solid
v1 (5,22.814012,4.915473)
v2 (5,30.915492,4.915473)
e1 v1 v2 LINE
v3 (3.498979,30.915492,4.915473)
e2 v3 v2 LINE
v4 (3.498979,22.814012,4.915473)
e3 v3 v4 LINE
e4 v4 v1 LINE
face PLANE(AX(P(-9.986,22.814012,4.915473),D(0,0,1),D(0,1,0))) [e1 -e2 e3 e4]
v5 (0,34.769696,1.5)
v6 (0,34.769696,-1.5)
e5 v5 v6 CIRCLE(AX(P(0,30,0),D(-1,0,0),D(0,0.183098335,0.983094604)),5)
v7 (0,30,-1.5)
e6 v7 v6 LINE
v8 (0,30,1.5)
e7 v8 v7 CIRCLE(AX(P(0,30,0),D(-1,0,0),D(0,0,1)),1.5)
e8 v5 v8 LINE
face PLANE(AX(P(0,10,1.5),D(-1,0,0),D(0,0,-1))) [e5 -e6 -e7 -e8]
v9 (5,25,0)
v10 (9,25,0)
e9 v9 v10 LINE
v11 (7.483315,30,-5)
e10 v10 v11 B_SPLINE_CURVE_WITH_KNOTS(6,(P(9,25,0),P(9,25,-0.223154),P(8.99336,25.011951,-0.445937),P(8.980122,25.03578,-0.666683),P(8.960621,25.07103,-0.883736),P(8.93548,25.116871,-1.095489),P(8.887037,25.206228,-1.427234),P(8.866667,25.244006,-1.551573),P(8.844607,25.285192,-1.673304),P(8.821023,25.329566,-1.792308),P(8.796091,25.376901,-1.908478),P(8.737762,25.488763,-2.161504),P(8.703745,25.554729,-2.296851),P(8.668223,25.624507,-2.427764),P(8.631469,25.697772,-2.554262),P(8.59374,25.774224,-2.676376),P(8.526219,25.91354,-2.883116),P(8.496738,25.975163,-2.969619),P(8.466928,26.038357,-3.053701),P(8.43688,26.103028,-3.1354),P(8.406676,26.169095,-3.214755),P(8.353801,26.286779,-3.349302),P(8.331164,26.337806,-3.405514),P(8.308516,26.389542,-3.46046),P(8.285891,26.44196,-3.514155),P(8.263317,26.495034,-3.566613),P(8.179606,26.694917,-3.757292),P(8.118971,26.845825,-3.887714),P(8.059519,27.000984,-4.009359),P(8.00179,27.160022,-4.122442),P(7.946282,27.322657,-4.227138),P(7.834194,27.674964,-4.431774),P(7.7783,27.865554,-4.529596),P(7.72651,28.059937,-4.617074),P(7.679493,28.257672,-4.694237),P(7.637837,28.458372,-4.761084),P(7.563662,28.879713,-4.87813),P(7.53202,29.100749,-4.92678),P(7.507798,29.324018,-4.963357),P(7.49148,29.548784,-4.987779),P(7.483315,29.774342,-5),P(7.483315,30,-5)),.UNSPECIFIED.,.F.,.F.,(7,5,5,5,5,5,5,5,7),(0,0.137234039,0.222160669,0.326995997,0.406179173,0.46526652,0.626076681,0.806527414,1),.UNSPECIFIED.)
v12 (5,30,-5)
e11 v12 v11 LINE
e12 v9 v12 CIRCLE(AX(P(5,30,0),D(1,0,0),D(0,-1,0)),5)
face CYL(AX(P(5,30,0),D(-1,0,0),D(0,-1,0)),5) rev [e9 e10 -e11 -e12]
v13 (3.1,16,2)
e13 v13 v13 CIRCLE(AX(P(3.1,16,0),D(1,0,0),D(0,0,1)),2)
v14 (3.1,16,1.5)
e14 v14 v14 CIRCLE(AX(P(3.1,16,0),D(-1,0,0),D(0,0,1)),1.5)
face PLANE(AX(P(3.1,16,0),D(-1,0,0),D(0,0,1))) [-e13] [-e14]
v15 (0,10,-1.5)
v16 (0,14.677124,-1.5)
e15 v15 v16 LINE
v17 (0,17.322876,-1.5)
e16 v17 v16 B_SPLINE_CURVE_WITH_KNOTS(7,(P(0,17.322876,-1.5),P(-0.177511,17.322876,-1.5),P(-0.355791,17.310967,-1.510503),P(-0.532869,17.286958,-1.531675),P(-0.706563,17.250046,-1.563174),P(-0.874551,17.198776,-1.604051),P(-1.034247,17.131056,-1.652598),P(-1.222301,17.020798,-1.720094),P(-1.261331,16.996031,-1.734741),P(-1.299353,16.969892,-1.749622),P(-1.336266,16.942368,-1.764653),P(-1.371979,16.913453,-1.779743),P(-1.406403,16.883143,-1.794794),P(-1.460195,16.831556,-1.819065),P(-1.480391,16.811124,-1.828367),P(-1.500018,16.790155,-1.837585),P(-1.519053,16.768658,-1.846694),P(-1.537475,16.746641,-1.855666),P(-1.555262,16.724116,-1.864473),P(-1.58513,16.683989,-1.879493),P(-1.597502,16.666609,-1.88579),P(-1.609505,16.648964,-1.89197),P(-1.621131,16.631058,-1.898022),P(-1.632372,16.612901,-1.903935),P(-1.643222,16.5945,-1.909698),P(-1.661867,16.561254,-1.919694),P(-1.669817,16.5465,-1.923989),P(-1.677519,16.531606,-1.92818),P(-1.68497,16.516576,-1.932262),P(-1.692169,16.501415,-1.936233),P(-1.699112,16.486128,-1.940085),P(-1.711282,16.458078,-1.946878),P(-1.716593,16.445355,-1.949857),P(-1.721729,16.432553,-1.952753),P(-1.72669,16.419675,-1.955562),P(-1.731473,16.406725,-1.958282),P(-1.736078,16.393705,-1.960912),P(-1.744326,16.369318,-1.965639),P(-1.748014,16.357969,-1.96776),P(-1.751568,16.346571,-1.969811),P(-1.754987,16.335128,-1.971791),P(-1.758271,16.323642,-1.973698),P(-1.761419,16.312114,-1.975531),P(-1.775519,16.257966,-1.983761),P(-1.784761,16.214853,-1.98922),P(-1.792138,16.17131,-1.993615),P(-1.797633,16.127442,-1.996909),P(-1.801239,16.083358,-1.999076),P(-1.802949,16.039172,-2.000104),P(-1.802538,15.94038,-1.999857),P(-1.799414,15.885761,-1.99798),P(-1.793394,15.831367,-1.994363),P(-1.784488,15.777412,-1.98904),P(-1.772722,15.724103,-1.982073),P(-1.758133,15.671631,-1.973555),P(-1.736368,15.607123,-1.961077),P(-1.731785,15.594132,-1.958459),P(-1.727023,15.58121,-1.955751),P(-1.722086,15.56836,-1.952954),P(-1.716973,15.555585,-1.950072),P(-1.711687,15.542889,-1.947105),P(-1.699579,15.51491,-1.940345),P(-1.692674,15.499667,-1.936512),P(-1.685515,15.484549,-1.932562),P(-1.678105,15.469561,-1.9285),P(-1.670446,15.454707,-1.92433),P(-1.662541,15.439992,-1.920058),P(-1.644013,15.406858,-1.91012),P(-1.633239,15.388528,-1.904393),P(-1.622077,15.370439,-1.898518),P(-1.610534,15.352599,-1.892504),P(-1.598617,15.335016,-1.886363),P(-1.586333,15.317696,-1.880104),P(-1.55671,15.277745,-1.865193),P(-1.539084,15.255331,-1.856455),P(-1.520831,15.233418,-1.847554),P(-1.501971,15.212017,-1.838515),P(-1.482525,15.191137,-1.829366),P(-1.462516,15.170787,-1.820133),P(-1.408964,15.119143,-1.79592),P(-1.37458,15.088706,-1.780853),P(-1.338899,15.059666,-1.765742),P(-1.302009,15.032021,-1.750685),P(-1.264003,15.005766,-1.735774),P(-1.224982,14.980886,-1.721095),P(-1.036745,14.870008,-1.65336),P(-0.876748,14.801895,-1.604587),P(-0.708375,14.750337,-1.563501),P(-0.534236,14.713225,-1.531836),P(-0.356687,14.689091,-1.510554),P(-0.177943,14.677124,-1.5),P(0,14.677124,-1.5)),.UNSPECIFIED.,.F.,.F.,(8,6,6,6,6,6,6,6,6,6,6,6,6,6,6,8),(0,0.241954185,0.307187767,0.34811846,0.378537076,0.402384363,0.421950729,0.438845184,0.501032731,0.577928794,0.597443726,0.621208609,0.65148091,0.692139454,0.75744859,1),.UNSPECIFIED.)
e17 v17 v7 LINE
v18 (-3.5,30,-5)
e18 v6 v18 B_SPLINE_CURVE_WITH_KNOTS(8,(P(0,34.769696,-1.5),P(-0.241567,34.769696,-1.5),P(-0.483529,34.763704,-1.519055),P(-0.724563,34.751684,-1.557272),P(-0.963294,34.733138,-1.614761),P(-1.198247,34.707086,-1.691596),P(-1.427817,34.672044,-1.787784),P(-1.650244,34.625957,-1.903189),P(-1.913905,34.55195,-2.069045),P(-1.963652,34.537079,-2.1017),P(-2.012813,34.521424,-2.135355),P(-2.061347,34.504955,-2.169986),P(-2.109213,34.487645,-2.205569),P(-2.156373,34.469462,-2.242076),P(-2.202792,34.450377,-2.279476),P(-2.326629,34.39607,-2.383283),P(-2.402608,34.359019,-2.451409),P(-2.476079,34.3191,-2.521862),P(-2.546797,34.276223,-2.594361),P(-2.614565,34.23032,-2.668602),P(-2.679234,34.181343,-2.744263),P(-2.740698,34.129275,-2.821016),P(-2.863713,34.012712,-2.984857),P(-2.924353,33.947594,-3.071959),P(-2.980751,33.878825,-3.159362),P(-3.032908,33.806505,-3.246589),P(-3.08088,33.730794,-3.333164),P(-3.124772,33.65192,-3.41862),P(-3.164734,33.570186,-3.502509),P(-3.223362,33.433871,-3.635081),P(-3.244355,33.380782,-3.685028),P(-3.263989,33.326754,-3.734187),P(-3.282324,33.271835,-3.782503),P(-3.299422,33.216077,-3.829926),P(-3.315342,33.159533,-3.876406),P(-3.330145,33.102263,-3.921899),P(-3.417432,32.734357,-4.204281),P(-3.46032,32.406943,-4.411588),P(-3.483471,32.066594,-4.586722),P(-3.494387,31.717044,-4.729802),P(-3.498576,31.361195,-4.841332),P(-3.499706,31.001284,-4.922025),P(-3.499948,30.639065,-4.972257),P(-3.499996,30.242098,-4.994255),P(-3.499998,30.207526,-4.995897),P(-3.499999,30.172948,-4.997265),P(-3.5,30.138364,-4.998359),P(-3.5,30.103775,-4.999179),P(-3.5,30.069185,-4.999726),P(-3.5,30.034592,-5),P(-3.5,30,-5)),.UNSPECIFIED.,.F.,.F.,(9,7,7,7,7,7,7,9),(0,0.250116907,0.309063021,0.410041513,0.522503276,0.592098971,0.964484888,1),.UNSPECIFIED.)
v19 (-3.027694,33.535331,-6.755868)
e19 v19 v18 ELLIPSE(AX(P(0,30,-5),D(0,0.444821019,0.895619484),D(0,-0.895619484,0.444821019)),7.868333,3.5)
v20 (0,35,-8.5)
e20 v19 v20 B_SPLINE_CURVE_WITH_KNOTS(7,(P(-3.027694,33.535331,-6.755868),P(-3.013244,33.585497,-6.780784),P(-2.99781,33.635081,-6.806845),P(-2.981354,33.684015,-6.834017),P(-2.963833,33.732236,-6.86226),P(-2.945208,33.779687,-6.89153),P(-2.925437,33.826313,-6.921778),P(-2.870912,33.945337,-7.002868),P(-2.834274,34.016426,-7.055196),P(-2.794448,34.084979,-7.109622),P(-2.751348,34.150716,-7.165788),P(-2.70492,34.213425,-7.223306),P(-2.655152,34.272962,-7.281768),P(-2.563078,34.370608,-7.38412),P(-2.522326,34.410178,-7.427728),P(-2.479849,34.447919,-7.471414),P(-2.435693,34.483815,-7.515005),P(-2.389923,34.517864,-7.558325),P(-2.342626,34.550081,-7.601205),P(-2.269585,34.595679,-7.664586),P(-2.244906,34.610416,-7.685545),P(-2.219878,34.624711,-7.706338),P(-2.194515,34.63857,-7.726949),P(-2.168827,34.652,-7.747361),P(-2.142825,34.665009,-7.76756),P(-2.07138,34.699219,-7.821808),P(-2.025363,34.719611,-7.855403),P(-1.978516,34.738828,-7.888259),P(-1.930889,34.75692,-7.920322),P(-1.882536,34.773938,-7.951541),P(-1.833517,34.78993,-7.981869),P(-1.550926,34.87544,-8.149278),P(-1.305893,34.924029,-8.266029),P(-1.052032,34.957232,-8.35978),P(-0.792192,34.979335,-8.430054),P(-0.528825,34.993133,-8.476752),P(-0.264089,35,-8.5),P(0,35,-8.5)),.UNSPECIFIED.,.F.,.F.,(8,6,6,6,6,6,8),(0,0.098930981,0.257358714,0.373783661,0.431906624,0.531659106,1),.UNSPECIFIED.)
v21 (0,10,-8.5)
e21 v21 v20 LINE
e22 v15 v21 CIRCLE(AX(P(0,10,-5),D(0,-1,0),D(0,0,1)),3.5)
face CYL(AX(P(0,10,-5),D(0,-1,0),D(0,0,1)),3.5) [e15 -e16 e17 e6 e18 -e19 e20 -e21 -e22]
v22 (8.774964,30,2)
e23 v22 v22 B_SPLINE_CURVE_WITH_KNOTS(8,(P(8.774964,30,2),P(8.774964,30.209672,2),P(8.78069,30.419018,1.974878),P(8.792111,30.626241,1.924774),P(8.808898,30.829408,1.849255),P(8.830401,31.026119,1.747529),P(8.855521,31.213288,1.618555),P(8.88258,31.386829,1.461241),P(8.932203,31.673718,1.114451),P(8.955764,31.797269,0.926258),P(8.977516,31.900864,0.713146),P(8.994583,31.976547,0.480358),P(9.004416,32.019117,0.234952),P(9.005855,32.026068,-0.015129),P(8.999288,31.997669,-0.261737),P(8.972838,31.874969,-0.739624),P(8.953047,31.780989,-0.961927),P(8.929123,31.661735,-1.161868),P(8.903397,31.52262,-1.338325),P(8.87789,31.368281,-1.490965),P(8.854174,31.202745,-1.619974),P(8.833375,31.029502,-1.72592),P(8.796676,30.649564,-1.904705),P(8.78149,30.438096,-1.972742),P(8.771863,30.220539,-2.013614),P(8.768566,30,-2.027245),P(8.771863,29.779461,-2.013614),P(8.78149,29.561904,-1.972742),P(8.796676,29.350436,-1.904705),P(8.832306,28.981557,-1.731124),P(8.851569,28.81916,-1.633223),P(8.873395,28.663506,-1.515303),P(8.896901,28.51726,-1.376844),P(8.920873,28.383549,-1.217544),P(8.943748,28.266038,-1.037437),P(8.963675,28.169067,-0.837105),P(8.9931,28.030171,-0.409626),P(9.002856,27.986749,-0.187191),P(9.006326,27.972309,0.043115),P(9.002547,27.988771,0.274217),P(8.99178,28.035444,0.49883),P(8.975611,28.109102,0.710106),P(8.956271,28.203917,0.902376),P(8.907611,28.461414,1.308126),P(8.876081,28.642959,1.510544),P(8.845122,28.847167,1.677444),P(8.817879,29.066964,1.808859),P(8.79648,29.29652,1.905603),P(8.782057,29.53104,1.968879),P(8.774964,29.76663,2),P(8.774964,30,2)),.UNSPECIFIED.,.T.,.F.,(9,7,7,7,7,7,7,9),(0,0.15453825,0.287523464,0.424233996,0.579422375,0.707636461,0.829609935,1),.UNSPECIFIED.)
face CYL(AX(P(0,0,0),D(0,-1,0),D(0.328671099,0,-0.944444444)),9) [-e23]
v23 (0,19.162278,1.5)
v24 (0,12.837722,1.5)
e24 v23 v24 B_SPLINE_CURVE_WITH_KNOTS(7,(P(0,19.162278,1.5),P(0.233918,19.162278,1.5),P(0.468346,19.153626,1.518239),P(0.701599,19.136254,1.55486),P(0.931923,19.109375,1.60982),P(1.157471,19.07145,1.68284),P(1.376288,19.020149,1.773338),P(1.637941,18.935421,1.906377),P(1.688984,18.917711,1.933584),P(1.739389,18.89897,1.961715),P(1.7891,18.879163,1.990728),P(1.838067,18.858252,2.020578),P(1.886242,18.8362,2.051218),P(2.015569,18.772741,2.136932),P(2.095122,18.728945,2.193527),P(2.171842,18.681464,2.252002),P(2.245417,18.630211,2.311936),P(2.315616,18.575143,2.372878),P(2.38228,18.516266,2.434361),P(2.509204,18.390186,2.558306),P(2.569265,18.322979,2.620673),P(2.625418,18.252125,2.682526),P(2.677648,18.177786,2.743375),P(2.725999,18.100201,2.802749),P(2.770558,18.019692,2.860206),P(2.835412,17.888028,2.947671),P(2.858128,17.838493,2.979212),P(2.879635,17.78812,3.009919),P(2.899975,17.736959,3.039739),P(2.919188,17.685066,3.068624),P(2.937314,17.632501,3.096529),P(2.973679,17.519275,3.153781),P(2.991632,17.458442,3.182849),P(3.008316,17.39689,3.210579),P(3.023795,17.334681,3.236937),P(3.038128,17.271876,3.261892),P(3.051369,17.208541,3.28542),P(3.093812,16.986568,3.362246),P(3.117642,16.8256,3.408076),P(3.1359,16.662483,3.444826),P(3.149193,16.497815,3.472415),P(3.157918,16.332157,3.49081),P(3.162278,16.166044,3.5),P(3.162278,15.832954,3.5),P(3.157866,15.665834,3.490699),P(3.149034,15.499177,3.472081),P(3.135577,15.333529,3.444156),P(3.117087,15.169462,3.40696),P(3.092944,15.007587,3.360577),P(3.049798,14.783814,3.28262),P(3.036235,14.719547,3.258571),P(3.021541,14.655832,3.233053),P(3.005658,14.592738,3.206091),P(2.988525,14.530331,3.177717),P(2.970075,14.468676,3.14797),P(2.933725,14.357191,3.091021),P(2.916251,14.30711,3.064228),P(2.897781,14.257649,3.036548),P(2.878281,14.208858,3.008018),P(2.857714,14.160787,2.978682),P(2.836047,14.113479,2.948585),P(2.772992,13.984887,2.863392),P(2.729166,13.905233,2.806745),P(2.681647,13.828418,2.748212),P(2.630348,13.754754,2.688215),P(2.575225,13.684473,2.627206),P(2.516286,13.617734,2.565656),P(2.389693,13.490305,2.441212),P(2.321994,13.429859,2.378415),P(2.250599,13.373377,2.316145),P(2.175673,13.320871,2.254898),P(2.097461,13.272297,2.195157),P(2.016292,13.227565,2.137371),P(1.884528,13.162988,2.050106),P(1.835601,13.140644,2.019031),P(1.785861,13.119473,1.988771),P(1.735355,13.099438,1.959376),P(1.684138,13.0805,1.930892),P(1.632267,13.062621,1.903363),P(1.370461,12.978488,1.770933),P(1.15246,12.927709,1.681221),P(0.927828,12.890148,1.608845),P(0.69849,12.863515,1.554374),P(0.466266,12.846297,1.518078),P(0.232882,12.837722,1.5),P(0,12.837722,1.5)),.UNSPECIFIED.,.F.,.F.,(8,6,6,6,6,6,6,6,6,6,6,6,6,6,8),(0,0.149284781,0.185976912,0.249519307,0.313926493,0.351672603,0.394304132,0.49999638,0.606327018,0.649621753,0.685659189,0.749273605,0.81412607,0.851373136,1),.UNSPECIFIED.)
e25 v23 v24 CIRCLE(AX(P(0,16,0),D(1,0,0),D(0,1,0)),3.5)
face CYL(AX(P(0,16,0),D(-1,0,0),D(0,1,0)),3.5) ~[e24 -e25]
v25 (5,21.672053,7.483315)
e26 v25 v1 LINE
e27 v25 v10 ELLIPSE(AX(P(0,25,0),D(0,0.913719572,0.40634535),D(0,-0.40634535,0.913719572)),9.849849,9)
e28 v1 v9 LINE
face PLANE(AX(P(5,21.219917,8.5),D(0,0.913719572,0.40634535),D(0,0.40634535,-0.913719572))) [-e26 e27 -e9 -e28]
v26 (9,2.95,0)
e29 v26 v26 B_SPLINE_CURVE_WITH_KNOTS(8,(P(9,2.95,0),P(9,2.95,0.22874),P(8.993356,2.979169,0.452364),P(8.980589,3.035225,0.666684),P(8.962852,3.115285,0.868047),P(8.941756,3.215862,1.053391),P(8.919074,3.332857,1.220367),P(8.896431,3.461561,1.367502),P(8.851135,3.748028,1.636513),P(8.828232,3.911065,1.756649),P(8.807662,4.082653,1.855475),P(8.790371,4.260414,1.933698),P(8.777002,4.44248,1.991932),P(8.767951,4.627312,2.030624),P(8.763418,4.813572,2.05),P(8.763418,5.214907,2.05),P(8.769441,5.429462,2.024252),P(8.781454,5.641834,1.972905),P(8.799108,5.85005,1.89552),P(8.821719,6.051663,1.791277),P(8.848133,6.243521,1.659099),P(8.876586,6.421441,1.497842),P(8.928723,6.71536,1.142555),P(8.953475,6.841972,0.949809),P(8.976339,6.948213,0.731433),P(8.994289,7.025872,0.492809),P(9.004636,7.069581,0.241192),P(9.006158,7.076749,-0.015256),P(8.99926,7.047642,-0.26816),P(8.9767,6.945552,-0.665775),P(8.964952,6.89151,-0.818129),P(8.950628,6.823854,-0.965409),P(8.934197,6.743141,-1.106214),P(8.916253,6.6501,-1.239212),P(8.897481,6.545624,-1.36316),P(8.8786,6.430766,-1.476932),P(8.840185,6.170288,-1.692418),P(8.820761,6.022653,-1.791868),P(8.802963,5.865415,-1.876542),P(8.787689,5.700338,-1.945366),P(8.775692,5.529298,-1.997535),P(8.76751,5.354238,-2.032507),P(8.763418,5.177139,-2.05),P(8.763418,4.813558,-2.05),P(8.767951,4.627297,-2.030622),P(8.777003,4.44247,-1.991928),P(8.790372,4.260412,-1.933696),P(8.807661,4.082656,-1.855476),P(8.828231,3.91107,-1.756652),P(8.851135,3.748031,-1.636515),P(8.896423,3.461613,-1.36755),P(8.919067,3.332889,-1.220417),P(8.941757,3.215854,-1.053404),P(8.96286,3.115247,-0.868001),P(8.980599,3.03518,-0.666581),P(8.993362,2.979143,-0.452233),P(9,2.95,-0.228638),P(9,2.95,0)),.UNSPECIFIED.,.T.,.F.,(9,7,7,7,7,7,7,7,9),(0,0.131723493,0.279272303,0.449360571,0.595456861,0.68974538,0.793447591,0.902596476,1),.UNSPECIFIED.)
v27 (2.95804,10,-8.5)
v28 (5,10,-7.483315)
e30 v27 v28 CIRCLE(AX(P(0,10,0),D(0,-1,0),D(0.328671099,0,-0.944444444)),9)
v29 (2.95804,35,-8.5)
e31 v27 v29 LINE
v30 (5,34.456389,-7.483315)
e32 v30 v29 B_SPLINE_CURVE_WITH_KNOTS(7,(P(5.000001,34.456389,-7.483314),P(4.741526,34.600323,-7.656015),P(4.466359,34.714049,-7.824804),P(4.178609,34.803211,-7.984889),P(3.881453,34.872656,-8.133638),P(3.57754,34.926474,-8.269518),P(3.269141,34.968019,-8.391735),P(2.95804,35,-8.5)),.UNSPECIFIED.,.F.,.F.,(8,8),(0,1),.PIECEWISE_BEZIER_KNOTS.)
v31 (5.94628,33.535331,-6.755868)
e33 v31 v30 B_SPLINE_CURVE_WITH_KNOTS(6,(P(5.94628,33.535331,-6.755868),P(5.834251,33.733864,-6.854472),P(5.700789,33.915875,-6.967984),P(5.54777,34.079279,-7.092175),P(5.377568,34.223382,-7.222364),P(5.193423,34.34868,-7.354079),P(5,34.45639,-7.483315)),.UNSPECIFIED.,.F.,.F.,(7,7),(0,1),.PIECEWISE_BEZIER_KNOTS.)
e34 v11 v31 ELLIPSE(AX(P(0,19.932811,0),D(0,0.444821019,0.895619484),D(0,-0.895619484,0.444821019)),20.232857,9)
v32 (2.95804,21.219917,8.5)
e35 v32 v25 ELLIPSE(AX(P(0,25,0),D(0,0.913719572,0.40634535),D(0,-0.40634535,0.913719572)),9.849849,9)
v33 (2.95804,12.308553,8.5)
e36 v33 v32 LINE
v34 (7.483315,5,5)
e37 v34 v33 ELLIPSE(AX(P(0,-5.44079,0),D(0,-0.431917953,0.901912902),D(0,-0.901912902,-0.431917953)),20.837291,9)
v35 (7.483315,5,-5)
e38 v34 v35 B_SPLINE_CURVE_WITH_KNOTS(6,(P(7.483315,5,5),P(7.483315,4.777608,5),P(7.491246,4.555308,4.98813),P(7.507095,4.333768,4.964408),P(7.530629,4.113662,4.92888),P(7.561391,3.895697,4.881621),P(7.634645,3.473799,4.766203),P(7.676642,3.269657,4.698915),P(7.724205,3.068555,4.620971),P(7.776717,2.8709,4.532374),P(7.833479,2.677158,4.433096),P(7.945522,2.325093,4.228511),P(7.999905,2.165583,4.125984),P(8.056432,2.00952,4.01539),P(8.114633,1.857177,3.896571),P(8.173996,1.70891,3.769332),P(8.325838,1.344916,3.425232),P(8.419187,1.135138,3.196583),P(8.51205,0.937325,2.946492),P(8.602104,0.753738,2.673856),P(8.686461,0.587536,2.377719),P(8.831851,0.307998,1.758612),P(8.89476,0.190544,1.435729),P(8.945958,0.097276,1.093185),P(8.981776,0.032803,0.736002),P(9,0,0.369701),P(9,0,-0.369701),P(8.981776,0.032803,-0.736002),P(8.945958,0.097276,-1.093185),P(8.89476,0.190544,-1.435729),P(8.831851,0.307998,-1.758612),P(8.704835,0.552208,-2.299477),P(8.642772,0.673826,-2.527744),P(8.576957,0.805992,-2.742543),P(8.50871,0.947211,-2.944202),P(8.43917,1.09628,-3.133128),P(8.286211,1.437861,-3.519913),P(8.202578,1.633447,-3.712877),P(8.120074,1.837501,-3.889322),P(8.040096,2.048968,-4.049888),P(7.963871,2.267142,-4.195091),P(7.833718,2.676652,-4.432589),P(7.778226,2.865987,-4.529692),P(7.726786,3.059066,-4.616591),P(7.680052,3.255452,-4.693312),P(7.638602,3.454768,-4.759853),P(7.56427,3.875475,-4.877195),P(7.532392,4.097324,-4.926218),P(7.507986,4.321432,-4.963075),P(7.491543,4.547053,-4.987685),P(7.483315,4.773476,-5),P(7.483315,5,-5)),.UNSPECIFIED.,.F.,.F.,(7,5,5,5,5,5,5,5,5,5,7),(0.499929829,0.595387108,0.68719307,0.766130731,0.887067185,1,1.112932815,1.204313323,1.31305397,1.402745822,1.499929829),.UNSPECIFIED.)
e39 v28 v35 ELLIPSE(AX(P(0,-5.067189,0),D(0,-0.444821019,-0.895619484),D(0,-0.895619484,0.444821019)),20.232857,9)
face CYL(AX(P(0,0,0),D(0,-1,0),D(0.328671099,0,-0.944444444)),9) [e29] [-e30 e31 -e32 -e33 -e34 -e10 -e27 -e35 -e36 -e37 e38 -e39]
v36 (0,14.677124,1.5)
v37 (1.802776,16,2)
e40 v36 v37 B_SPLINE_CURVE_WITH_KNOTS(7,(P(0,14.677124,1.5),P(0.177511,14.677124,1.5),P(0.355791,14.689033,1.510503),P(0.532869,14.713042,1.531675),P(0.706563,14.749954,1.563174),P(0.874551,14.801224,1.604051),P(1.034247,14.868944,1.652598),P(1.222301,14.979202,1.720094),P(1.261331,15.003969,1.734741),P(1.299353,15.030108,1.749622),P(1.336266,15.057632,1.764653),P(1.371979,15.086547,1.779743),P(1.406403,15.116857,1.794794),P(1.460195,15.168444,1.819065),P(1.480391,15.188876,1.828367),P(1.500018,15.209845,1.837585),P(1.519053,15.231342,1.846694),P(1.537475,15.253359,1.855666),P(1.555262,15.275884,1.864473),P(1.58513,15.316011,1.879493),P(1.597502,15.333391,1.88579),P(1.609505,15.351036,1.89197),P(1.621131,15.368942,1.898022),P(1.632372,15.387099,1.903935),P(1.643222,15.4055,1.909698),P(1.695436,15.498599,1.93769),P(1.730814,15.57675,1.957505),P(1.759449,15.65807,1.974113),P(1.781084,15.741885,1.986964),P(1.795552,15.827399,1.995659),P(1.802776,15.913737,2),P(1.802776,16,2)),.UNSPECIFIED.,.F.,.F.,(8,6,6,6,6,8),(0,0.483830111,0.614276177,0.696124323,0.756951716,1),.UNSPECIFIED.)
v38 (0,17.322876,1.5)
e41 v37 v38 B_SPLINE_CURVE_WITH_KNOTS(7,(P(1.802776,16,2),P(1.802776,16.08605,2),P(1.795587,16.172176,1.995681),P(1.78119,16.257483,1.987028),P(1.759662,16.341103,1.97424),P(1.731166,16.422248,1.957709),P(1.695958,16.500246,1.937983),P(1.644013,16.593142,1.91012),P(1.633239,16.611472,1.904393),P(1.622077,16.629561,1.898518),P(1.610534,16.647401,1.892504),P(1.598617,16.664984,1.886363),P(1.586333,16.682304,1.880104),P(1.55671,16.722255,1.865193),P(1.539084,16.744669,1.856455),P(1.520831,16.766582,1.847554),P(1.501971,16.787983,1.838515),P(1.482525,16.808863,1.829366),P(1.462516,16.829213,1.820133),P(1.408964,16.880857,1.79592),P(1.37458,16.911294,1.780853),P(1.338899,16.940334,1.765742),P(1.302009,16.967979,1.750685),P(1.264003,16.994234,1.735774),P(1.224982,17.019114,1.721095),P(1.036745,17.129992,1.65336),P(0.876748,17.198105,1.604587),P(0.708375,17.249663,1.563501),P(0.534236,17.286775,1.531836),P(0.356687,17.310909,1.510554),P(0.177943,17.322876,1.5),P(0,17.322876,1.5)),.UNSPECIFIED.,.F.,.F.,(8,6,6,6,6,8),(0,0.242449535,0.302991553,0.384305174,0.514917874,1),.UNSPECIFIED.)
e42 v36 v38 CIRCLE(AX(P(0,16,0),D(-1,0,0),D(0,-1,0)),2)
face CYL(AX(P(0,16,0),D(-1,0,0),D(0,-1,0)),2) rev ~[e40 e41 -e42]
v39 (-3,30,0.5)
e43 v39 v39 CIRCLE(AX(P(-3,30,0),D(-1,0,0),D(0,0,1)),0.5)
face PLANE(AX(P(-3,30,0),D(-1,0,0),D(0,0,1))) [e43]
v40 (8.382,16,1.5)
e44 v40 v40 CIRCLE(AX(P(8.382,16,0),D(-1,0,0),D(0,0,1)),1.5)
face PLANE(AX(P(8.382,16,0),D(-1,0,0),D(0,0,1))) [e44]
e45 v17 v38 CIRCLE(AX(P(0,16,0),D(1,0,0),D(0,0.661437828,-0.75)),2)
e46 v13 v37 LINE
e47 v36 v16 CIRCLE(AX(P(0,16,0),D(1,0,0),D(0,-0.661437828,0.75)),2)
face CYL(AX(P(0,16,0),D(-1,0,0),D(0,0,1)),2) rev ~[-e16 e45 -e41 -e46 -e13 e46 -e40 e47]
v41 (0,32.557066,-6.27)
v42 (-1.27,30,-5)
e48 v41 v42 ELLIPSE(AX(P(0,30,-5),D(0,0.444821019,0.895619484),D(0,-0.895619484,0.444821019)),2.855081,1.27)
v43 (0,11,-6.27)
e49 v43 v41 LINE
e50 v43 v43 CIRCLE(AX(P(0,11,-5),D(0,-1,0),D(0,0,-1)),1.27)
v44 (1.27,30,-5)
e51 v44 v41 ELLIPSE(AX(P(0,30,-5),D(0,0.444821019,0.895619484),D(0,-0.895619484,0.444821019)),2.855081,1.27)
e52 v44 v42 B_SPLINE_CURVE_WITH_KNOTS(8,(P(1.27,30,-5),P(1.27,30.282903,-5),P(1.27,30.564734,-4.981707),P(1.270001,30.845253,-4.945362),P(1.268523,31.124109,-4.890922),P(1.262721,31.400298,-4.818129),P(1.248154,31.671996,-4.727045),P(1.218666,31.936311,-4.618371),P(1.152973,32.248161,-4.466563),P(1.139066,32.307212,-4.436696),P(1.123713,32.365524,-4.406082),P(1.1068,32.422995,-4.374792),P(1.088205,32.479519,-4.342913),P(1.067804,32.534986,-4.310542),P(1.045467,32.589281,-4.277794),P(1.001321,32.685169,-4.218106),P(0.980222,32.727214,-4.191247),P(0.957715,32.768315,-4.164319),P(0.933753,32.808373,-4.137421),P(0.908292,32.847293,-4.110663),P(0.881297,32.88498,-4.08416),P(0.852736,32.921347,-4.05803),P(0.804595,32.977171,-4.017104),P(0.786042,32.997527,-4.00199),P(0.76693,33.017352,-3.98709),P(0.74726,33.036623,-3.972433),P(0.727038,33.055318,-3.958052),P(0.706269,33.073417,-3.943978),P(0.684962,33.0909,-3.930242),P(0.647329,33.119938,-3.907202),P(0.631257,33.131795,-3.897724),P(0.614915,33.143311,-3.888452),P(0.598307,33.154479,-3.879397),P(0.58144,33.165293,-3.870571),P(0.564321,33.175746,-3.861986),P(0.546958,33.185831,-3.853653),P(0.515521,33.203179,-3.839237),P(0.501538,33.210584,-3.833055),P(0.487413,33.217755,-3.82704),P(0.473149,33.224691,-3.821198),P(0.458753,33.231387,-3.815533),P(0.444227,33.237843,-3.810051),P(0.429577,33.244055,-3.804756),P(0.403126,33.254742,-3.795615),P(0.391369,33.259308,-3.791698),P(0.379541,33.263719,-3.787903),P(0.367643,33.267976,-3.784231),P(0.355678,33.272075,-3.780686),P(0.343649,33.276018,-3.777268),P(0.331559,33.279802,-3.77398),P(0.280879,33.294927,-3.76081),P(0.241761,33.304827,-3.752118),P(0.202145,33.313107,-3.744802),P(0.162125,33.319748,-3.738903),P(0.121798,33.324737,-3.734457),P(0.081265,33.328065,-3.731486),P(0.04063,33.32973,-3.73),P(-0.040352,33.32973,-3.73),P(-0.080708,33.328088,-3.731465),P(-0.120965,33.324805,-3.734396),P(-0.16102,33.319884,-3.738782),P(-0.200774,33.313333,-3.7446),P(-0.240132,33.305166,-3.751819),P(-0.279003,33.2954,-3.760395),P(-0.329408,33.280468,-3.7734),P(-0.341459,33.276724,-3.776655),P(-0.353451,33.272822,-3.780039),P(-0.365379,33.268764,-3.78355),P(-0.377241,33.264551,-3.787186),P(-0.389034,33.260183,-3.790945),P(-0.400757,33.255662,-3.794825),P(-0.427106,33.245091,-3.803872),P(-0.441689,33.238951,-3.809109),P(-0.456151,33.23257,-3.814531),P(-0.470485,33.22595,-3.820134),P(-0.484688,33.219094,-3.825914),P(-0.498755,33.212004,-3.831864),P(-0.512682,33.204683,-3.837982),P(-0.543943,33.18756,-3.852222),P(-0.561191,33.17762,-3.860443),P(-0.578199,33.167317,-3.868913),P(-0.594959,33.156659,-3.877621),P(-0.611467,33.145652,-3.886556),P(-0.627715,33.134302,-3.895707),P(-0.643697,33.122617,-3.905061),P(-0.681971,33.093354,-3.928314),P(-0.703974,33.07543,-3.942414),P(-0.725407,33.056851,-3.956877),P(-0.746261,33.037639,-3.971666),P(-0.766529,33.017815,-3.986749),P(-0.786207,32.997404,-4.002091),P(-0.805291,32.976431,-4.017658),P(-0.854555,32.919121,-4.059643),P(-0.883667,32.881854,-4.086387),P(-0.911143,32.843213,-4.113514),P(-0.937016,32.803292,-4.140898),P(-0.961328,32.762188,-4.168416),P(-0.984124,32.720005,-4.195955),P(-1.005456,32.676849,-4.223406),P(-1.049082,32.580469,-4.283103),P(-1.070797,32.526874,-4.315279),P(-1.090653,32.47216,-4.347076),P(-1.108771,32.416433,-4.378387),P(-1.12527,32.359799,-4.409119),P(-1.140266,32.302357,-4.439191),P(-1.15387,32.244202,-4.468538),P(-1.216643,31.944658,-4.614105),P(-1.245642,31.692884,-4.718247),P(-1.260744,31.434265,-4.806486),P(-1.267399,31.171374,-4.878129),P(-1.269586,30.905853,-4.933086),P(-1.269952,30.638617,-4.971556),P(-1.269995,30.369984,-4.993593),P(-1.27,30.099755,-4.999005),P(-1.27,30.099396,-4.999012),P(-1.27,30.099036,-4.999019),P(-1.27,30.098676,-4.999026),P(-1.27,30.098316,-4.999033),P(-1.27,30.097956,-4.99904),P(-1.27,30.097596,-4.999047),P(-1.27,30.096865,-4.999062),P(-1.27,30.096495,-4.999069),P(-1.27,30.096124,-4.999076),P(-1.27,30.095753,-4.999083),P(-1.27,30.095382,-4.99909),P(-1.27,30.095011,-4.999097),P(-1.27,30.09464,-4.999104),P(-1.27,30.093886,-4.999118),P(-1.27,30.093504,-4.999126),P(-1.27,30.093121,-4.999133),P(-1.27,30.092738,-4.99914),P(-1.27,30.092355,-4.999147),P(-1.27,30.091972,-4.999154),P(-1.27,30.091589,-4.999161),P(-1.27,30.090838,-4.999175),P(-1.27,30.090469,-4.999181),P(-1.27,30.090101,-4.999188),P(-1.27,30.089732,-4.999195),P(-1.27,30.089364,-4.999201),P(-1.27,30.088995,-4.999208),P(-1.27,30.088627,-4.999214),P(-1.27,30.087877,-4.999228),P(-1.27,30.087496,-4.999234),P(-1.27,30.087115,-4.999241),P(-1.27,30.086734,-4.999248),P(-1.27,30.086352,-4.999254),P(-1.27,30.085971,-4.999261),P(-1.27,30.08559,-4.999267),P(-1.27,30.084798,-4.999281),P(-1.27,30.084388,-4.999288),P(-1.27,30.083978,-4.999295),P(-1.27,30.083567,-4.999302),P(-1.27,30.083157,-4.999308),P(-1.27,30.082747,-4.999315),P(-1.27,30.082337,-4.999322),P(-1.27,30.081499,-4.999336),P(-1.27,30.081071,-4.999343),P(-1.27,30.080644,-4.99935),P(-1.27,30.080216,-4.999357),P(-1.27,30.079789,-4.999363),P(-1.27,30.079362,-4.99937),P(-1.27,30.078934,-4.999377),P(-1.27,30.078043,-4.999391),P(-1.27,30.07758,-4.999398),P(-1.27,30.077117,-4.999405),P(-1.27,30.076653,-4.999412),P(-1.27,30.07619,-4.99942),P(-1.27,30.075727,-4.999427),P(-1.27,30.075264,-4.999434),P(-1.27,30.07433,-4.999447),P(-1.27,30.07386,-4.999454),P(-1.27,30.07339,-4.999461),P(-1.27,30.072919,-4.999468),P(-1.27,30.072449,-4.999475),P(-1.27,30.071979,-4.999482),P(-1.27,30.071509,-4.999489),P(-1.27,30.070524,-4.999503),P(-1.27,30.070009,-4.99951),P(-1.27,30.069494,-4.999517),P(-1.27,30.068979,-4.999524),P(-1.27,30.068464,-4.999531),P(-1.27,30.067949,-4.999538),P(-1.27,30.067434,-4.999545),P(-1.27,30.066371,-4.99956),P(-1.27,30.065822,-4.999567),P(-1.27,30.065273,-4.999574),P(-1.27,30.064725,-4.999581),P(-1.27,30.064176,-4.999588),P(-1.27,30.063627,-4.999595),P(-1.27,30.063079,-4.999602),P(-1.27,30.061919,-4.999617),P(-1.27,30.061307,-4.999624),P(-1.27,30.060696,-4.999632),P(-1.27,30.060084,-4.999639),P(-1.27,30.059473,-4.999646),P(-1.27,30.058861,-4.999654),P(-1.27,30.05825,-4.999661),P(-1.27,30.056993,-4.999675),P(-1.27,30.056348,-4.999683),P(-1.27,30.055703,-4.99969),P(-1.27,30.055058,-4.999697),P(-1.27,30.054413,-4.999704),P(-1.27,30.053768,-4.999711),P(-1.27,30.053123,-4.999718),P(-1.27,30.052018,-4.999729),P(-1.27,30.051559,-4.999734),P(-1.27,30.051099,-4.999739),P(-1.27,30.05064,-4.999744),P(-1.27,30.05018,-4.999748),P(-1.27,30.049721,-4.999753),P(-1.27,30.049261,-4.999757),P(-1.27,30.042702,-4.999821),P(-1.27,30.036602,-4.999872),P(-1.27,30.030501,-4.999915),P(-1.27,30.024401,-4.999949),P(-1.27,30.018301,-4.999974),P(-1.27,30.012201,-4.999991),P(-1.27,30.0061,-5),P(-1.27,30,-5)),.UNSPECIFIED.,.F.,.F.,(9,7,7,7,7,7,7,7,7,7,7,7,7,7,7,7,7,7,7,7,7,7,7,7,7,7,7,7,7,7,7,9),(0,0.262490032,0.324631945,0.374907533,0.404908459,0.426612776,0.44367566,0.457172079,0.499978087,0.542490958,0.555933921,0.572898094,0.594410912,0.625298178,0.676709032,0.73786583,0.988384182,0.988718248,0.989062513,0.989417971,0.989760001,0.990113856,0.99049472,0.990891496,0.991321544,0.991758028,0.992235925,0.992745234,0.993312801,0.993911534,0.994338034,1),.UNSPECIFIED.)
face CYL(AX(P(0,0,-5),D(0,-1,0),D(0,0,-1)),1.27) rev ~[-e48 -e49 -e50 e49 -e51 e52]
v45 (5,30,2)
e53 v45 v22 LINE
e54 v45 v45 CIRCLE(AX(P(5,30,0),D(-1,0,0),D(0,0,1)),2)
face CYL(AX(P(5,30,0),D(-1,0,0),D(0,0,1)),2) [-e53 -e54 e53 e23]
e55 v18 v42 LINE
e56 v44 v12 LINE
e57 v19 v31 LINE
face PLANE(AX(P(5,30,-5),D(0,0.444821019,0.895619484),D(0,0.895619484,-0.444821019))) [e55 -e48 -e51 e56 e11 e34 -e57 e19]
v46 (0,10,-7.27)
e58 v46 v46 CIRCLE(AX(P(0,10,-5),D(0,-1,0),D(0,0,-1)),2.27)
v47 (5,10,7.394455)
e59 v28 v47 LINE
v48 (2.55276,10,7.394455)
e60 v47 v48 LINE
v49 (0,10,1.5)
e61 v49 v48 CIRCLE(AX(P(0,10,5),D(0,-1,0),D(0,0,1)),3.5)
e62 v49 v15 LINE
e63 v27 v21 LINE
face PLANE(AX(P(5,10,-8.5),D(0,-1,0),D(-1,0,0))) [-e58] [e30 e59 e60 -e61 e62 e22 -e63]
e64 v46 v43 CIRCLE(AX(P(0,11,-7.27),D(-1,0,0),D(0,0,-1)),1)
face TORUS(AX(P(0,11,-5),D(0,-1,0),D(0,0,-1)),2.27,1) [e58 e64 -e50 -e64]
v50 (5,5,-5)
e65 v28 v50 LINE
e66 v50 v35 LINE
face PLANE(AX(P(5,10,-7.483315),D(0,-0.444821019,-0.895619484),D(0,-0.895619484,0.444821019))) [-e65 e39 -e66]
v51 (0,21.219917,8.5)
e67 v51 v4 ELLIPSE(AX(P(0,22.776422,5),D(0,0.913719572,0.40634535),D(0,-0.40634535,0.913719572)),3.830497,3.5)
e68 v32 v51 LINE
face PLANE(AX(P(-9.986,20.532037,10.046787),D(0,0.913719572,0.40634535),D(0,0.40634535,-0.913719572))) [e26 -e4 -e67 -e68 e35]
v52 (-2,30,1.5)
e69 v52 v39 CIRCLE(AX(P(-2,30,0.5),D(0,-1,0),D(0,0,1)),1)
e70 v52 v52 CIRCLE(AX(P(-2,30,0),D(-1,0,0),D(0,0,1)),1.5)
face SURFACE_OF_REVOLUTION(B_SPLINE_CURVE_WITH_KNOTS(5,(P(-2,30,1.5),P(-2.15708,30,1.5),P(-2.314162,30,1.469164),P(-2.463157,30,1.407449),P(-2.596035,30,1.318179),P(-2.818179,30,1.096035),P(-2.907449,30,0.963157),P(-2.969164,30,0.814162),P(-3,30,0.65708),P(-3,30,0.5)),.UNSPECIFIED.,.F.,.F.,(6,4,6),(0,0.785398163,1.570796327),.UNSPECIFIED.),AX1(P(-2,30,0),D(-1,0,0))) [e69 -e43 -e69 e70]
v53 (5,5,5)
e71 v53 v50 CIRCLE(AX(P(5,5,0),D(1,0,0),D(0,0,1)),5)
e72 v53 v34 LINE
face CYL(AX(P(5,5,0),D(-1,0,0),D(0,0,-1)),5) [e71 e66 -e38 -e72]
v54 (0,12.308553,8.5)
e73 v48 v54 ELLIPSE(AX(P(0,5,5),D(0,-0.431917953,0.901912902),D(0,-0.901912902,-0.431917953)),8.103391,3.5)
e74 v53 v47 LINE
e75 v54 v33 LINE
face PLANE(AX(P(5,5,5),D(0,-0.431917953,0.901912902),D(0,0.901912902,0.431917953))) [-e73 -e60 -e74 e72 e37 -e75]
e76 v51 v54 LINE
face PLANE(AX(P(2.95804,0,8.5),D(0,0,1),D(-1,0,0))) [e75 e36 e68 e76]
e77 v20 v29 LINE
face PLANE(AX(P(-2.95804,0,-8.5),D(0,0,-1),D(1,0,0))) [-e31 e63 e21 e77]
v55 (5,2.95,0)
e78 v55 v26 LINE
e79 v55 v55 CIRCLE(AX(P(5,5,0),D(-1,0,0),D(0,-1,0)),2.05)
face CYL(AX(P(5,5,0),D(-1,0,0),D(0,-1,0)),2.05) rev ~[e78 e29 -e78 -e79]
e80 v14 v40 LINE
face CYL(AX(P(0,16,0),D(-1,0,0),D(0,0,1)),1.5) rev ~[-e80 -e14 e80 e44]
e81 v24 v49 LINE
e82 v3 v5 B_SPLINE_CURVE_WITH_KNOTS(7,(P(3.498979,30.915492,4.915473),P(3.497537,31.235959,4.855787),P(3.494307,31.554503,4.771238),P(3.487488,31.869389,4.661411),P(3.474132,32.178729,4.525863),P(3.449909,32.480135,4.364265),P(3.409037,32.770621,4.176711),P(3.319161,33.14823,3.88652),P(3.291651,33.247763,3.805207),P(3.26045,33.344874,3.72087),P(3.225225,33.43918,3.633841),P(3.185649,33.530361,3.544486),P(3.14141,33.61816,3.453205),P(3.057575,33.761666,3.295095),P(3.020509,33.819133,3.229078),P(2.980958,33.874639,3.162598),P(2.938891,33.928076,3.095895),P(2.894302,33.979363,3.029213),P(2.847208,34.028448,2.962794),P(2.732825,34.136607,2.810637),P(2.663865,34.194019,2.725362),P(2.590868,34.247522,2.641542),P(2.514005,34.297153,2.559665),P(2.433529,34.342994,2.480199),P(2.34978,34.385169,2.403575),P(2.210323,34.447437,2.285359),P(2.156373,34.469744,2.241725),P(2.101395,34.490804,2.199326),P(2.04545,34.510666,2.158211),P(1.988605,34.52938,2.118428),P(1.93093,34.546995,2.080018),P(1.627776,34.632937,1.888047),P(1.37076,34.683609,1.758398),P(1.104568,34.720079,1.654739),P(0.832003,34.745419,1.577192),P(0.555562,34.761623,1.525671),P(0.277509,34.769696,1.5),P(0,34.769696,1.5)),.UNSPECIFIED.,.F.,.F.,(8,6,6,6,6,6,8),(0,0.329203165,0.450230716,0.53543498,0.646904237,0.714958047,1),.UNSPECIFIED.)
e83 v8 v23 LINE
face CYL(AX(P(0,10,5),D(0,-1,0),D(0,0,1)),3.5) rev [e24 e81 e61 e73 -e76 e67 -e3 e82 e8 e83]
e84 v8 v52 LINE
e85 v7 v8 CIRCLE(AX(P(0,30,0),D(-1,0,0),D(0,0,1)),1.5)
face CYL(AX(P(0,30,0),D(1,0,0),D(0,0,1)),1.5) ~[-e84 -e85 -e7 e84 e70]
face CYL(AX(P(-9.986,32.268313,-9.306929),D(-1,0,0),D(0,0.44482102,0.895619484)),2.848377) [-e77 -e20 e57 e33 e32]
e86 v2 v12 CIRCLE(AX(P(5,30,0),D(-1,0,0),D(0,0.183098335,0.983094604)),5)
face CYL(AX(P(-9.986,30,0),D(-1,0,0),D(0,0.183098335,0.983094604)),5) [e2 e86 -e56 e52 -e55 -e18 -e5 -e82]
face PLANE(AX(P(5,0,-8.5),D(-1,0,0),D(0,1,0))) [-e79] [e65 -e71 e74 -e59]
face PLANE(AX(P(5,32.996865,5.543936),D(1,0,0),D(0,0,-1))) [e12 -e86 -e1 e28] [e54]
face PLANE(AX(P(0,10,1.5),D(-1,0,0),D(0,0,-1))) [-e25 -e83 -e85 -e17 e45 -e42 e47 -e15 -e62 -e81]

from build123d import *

# Parameters (mm, degrees)
BOSS_EXTRUDE1_DEPTH = 35
SKETCH2_R           = 1.27
CUT_EXTRUDE1_DEPTH  = 35
CUT_EXTRUDE2_REACH  = 41.937
SKETCH3_W           = 10
SKETCH3_H           = 10
SKETCH4_R           = 2.049999964
CUT_EXTRUDE3_DEPTH  = 17.5
CUT_EXTRUDE5_START  = -7.95804
SKETCH6_R           = 2
CUT_EXTRUDE5_DEPTH  = 9.6
FILLET3_R           = 1
CUT_EXTRUDE6_START  = 8.64596
SKETCH6_3_R         = 2
CUT_EXTRUDE6_DEPTH  = 6.604
CUT_EXTRUDE7_START  = -14.986
CUT_EXTRUDE7_DEPTH  = 14.986
CUT_EXTRUDE8_DEPTH  = 31.496
SKETCH9_R           = 1.5
CUT_EXTRUDE9_DEPTH  = 8.382
SKETCH11_R          = 2
CUT_EXTRUDE10_DEPTH = 3.1
BOSS_EXTRUDE2_DEPTH = 3.862
SKETCH13_R          = 1.5
BOSS_EXTRUDE4_DEPTH = 3
FILLET5_R           = 1


with BuildPart() as part:
    # Sketch1 → Boss-Extrude1 (new body)
    with BuildSketch(Plane(origin=(0, 0, 0), x_dir=(1, 0, 0), z_dir=(0, 1, 0))):
        with BuildLine():
            Line((-2.958039892, 8.5), (2.958039892, 8.5))
            ThreePointArc((2.958039892, 8.5), (9, 0), (2.958039892, -8.5))
            Line((2.958039892, -8.5), (-2.958039892, -8.5))
            ThreePointArc((-2.958039892, -8.5), (-9, 0), (-2.958039892, 8.5))
        make_face()
    extrude(amount=BOSS_EXTRUDE1_DEPTH)

    # Sketch2 → Cut-Extrude1 (cut)
    with BuildSketch(Plane.XZ):
        with Locations(Location((0, -5, 0), (0, 0, 270))):
            Circle(SKETCH2_R)
        with Locations(Location((0, 5, 0), (0, 0, 270))):
            Circle(SKETCH2_R)
    extrude(amount=-CUT_EXTRUDE1_DEPTH, mode=Mode.SUBTRACT)

    # Cut-Extrude2: up to this face of the body (flat: up to its plane)
    cut_extrude2_end = Plane(part.part.faces().sort_by_distance((0, 17.5, 8.5))[0])
    # Sketch3 → Cut-Extrude2 (cut, up to the picked face)
    with BuildSketch(Plane(origin=(0, 0, -8.5), x_dir=(-1, 0, 0), z_dir=(0, 0, -1)), mode=Mode.PRIVATE) as cut_extrude2_sk1:
        with Locations((0, 5)):
            Rectangle(SKETCH3_W, SKETCH3_H)
    cut_extrude2_tool1 = split(extrude(cut_extrude2_sk1.sketch, amount=-CUT_EXTRUDE2_REACH, mode=Mode.PRIVATE), bisect_by=cut_extrude2_end, keep=Keep.BOTH, mode=Mode.PRIVATE)
    add(cut_extrude2_tool1.solids().sort_by(Axis((0, 5, -8.5), (0, 0, 1)))[0], mode=Mode.SUBTRACT)

    # Sketch4 → Cut-Extrude3 (cut, symmetric)
    with BuildSketch(Plane.ZY.offset(-5)):
        with Locations(Location((0, 5, 0), (0, 0, 270))):
            Circle(SKETCH4_R)
        with BuildLine():
            Line((-7.483314774, 10), (-5, 5))
            ThreePointArc((-5, 5), (0, 0), (5, 5))
            Line((5, 5), (8.5, 12.308552788))
            Line((8.5, 12.308552788), (9.857943437, -1.822240199))
            Line((9.857943437, -1.822240199), (-9.857943437, -1.822240199))
            Line((-9.857943437, -1.822240199), (-7.483314774, 10))
        make_face()
    extrude(amount=CUT_EXTRUDE3_DEPTH, both=True, mode=Mode.SUBTRACT)

    # Sketch6 → Cut-Extrude5 (cut)
    with BuildSketch(Plane.ZY.offset(2.958039892).offset(CUT_EXTRUDE5_START)):
        with BuildLine():
            Line((8.5, 21.219917379), (0, 25))
            ThreePointArc((0, 25), (-3.535533906, 26.464466094), (-5, 30))
            Line((-5, 30), (-6.755867779, 33.535330675))
            ThreePointArc((-6.755867779, 33.535330675), (-7.475170692, 34.449576169), (-8.5, 35))
            Line((-8.5, 35), (17.803004008, 42.886049022))
            Line((17.803004008, 42.886049022), (8.5, 21.219917379))
        make_face()
        with Locations((0, 30)):
            Circle(SKETCH6_R, mode=Mode.SUBTRACT)
    extrude(amount=-CUT_EXTRUDE5_DEPTH, mode=Mode.SUBTRACT)

    # Fillet3
    fillet3_edges = [part.edges().sort_by_distance(p)[0] for p in [
        (0, 10, -3.73),
        (0, 10, 6.27),
    ]]
    fillet(fillet3_edges, radius=FILLET3_R)

    # Sketch6<3> → Cut-Extrude6 (cut)
    with BuildSketch(Plane.ZY.offset(2.958039892).offset(CUT_EXTRUDE6_START)):
        with BuildLine():
            Line((8.5, 21.219917379), (0, 25))
            ThreePointArc((0, 25), (-3.535533906, 26.464466094), (-5, 30))
            Line((-5, 30), (-6.755867779, 33.535330675))
            ThreePointArc((-6.755867779, 33.535330675), (-7.475170692, 34.449576169), (-8.5, 35))
            Line((-8.5, 35), (17.803004008, 42.886049022))
            Line((17.803004008, 42.886049022), (8.5, 21.219917379))
        make_face()
        with Locations((0, 30)):
            Circle(SKETCH6_3_R, mode=Mode.SUBTRACT)
    extrude(amount=-CUT_EXTRUDE6_DEPTH, mode=Mode.SUBTRACT)

    # Sketch7 → Cut-Extrude7 (cut)
    with BuildSketch(Plane(origin=(5, 0, 0), x_dir=(0, 0, -1), z_dir=(1, 0, 0)).offset(CUT_EXTRUDE7_START)):
        with BuildLine():
            Line((5, 30), (6.755867779, 33.535330675))
            ThreePointArc((6.755867779, 33.535330675), (7.475170692, 34.449576169), (8.5, 35))
            Line((8.5, 35), (-8.341946035, 47.536710192))
            Line((-8.341946035, 47.536710192), (-13.168237897, 33.528506419))
            Line((-13.168237897, 33.528506419), (-10.04678731, 20.532036929))
            Line((-10.04678731, 20.532036929), (-4.915473018, 22.814012455))
            Line((-4.915473018, 22.814012455), (-4.915473018, 30.915491676))
            ThreePointArc((-4.915473018, 30.915491676), (0.459692783, 34.97882341), (5, 30))
        make_face()
    extrude(amount=CUT_EXTRUDE7_DEPTH, mode=Mode.SUBTRACT)

    # Sketch8 → Cut-Extrude8 (cut, symmetric)
    with BuildSketch(Plane.XZ.offset(-10)):
        with BuildLine():
            Line((0, 1.5), (0, -1.5))
            ThreePointArc((0, -1.5), (-3.5, -5), (0, -8.5))
            Line((0, -8.5), (-4.790142834, -16.013604782))
            Line((-4.790142834, -16.013604782), (-17.855559142, -9.717705198))
            Line((-17.855559142, -9.717705198), (-4.790142834, 15.219000931))
            Line((-4.790142834, 15.219000931), (0, 8.5))
            ThreePointArc((0, 8.5), (3.5, 5), (0, 1.5))
        make_face()
    extrude(amount=CUT_EXTRUDE8_DEPTH, both=True, mode=Mode.SUBTRACT)

    # Sketch9 → Cut-Extrude9 (cut)
    with BuildSketch(Plane.ZY):
        with Locations((0, 16)):
            Circle(SKETCH9_R)
    extrude(amount=-CUT_EXTRUDE9_DEPTH, mode=Mode.SUBTRACT)

    # Sketch11 → Cut-Extrude10 (cut, symmetric)
    with BuildSketch(Plane.ZY):
        with Locations((0, 16)):
            Circle(SKETCH11_R)
    extrude(amount=CUT_EXTRUDE10_DEPTH, both=True, mode=Mode.SUBTRACT)

    # Sketch12 → Boss-Extrude2 (add)
    with BuildSketch(Plane.ZY):
        with BuildLine():
            Line((0, 18), (0, 19.5))
            ThreePointArc((0, 19.5), (3.5, 16), (0, 12.5))
            Line((0, 12.5), (0, 14))
            ThreePointArc((0, 14), (2, 16), (0, 18))
        make_face()
    extrude(amount=-BOSS_EXTRUDE2_DEPTH)

    # Sketch13 → Boss-Extrude4 (add)
    with BuildSketch(Plane.ZY):
        with Locations((0, 30)):
            Circle(SKETCH13_R)
    extrude(amount=BOSS_EXTRUDE4_DEPTH)

    # Fillet5
    fillet5_edges = [part.edges().sort_by_distance(p)[0] for p in [
        (-3, 30, -1.5),
    ]]
    fillet(fillet5_edges, radius=FILLET5_R)


solid = part.part
